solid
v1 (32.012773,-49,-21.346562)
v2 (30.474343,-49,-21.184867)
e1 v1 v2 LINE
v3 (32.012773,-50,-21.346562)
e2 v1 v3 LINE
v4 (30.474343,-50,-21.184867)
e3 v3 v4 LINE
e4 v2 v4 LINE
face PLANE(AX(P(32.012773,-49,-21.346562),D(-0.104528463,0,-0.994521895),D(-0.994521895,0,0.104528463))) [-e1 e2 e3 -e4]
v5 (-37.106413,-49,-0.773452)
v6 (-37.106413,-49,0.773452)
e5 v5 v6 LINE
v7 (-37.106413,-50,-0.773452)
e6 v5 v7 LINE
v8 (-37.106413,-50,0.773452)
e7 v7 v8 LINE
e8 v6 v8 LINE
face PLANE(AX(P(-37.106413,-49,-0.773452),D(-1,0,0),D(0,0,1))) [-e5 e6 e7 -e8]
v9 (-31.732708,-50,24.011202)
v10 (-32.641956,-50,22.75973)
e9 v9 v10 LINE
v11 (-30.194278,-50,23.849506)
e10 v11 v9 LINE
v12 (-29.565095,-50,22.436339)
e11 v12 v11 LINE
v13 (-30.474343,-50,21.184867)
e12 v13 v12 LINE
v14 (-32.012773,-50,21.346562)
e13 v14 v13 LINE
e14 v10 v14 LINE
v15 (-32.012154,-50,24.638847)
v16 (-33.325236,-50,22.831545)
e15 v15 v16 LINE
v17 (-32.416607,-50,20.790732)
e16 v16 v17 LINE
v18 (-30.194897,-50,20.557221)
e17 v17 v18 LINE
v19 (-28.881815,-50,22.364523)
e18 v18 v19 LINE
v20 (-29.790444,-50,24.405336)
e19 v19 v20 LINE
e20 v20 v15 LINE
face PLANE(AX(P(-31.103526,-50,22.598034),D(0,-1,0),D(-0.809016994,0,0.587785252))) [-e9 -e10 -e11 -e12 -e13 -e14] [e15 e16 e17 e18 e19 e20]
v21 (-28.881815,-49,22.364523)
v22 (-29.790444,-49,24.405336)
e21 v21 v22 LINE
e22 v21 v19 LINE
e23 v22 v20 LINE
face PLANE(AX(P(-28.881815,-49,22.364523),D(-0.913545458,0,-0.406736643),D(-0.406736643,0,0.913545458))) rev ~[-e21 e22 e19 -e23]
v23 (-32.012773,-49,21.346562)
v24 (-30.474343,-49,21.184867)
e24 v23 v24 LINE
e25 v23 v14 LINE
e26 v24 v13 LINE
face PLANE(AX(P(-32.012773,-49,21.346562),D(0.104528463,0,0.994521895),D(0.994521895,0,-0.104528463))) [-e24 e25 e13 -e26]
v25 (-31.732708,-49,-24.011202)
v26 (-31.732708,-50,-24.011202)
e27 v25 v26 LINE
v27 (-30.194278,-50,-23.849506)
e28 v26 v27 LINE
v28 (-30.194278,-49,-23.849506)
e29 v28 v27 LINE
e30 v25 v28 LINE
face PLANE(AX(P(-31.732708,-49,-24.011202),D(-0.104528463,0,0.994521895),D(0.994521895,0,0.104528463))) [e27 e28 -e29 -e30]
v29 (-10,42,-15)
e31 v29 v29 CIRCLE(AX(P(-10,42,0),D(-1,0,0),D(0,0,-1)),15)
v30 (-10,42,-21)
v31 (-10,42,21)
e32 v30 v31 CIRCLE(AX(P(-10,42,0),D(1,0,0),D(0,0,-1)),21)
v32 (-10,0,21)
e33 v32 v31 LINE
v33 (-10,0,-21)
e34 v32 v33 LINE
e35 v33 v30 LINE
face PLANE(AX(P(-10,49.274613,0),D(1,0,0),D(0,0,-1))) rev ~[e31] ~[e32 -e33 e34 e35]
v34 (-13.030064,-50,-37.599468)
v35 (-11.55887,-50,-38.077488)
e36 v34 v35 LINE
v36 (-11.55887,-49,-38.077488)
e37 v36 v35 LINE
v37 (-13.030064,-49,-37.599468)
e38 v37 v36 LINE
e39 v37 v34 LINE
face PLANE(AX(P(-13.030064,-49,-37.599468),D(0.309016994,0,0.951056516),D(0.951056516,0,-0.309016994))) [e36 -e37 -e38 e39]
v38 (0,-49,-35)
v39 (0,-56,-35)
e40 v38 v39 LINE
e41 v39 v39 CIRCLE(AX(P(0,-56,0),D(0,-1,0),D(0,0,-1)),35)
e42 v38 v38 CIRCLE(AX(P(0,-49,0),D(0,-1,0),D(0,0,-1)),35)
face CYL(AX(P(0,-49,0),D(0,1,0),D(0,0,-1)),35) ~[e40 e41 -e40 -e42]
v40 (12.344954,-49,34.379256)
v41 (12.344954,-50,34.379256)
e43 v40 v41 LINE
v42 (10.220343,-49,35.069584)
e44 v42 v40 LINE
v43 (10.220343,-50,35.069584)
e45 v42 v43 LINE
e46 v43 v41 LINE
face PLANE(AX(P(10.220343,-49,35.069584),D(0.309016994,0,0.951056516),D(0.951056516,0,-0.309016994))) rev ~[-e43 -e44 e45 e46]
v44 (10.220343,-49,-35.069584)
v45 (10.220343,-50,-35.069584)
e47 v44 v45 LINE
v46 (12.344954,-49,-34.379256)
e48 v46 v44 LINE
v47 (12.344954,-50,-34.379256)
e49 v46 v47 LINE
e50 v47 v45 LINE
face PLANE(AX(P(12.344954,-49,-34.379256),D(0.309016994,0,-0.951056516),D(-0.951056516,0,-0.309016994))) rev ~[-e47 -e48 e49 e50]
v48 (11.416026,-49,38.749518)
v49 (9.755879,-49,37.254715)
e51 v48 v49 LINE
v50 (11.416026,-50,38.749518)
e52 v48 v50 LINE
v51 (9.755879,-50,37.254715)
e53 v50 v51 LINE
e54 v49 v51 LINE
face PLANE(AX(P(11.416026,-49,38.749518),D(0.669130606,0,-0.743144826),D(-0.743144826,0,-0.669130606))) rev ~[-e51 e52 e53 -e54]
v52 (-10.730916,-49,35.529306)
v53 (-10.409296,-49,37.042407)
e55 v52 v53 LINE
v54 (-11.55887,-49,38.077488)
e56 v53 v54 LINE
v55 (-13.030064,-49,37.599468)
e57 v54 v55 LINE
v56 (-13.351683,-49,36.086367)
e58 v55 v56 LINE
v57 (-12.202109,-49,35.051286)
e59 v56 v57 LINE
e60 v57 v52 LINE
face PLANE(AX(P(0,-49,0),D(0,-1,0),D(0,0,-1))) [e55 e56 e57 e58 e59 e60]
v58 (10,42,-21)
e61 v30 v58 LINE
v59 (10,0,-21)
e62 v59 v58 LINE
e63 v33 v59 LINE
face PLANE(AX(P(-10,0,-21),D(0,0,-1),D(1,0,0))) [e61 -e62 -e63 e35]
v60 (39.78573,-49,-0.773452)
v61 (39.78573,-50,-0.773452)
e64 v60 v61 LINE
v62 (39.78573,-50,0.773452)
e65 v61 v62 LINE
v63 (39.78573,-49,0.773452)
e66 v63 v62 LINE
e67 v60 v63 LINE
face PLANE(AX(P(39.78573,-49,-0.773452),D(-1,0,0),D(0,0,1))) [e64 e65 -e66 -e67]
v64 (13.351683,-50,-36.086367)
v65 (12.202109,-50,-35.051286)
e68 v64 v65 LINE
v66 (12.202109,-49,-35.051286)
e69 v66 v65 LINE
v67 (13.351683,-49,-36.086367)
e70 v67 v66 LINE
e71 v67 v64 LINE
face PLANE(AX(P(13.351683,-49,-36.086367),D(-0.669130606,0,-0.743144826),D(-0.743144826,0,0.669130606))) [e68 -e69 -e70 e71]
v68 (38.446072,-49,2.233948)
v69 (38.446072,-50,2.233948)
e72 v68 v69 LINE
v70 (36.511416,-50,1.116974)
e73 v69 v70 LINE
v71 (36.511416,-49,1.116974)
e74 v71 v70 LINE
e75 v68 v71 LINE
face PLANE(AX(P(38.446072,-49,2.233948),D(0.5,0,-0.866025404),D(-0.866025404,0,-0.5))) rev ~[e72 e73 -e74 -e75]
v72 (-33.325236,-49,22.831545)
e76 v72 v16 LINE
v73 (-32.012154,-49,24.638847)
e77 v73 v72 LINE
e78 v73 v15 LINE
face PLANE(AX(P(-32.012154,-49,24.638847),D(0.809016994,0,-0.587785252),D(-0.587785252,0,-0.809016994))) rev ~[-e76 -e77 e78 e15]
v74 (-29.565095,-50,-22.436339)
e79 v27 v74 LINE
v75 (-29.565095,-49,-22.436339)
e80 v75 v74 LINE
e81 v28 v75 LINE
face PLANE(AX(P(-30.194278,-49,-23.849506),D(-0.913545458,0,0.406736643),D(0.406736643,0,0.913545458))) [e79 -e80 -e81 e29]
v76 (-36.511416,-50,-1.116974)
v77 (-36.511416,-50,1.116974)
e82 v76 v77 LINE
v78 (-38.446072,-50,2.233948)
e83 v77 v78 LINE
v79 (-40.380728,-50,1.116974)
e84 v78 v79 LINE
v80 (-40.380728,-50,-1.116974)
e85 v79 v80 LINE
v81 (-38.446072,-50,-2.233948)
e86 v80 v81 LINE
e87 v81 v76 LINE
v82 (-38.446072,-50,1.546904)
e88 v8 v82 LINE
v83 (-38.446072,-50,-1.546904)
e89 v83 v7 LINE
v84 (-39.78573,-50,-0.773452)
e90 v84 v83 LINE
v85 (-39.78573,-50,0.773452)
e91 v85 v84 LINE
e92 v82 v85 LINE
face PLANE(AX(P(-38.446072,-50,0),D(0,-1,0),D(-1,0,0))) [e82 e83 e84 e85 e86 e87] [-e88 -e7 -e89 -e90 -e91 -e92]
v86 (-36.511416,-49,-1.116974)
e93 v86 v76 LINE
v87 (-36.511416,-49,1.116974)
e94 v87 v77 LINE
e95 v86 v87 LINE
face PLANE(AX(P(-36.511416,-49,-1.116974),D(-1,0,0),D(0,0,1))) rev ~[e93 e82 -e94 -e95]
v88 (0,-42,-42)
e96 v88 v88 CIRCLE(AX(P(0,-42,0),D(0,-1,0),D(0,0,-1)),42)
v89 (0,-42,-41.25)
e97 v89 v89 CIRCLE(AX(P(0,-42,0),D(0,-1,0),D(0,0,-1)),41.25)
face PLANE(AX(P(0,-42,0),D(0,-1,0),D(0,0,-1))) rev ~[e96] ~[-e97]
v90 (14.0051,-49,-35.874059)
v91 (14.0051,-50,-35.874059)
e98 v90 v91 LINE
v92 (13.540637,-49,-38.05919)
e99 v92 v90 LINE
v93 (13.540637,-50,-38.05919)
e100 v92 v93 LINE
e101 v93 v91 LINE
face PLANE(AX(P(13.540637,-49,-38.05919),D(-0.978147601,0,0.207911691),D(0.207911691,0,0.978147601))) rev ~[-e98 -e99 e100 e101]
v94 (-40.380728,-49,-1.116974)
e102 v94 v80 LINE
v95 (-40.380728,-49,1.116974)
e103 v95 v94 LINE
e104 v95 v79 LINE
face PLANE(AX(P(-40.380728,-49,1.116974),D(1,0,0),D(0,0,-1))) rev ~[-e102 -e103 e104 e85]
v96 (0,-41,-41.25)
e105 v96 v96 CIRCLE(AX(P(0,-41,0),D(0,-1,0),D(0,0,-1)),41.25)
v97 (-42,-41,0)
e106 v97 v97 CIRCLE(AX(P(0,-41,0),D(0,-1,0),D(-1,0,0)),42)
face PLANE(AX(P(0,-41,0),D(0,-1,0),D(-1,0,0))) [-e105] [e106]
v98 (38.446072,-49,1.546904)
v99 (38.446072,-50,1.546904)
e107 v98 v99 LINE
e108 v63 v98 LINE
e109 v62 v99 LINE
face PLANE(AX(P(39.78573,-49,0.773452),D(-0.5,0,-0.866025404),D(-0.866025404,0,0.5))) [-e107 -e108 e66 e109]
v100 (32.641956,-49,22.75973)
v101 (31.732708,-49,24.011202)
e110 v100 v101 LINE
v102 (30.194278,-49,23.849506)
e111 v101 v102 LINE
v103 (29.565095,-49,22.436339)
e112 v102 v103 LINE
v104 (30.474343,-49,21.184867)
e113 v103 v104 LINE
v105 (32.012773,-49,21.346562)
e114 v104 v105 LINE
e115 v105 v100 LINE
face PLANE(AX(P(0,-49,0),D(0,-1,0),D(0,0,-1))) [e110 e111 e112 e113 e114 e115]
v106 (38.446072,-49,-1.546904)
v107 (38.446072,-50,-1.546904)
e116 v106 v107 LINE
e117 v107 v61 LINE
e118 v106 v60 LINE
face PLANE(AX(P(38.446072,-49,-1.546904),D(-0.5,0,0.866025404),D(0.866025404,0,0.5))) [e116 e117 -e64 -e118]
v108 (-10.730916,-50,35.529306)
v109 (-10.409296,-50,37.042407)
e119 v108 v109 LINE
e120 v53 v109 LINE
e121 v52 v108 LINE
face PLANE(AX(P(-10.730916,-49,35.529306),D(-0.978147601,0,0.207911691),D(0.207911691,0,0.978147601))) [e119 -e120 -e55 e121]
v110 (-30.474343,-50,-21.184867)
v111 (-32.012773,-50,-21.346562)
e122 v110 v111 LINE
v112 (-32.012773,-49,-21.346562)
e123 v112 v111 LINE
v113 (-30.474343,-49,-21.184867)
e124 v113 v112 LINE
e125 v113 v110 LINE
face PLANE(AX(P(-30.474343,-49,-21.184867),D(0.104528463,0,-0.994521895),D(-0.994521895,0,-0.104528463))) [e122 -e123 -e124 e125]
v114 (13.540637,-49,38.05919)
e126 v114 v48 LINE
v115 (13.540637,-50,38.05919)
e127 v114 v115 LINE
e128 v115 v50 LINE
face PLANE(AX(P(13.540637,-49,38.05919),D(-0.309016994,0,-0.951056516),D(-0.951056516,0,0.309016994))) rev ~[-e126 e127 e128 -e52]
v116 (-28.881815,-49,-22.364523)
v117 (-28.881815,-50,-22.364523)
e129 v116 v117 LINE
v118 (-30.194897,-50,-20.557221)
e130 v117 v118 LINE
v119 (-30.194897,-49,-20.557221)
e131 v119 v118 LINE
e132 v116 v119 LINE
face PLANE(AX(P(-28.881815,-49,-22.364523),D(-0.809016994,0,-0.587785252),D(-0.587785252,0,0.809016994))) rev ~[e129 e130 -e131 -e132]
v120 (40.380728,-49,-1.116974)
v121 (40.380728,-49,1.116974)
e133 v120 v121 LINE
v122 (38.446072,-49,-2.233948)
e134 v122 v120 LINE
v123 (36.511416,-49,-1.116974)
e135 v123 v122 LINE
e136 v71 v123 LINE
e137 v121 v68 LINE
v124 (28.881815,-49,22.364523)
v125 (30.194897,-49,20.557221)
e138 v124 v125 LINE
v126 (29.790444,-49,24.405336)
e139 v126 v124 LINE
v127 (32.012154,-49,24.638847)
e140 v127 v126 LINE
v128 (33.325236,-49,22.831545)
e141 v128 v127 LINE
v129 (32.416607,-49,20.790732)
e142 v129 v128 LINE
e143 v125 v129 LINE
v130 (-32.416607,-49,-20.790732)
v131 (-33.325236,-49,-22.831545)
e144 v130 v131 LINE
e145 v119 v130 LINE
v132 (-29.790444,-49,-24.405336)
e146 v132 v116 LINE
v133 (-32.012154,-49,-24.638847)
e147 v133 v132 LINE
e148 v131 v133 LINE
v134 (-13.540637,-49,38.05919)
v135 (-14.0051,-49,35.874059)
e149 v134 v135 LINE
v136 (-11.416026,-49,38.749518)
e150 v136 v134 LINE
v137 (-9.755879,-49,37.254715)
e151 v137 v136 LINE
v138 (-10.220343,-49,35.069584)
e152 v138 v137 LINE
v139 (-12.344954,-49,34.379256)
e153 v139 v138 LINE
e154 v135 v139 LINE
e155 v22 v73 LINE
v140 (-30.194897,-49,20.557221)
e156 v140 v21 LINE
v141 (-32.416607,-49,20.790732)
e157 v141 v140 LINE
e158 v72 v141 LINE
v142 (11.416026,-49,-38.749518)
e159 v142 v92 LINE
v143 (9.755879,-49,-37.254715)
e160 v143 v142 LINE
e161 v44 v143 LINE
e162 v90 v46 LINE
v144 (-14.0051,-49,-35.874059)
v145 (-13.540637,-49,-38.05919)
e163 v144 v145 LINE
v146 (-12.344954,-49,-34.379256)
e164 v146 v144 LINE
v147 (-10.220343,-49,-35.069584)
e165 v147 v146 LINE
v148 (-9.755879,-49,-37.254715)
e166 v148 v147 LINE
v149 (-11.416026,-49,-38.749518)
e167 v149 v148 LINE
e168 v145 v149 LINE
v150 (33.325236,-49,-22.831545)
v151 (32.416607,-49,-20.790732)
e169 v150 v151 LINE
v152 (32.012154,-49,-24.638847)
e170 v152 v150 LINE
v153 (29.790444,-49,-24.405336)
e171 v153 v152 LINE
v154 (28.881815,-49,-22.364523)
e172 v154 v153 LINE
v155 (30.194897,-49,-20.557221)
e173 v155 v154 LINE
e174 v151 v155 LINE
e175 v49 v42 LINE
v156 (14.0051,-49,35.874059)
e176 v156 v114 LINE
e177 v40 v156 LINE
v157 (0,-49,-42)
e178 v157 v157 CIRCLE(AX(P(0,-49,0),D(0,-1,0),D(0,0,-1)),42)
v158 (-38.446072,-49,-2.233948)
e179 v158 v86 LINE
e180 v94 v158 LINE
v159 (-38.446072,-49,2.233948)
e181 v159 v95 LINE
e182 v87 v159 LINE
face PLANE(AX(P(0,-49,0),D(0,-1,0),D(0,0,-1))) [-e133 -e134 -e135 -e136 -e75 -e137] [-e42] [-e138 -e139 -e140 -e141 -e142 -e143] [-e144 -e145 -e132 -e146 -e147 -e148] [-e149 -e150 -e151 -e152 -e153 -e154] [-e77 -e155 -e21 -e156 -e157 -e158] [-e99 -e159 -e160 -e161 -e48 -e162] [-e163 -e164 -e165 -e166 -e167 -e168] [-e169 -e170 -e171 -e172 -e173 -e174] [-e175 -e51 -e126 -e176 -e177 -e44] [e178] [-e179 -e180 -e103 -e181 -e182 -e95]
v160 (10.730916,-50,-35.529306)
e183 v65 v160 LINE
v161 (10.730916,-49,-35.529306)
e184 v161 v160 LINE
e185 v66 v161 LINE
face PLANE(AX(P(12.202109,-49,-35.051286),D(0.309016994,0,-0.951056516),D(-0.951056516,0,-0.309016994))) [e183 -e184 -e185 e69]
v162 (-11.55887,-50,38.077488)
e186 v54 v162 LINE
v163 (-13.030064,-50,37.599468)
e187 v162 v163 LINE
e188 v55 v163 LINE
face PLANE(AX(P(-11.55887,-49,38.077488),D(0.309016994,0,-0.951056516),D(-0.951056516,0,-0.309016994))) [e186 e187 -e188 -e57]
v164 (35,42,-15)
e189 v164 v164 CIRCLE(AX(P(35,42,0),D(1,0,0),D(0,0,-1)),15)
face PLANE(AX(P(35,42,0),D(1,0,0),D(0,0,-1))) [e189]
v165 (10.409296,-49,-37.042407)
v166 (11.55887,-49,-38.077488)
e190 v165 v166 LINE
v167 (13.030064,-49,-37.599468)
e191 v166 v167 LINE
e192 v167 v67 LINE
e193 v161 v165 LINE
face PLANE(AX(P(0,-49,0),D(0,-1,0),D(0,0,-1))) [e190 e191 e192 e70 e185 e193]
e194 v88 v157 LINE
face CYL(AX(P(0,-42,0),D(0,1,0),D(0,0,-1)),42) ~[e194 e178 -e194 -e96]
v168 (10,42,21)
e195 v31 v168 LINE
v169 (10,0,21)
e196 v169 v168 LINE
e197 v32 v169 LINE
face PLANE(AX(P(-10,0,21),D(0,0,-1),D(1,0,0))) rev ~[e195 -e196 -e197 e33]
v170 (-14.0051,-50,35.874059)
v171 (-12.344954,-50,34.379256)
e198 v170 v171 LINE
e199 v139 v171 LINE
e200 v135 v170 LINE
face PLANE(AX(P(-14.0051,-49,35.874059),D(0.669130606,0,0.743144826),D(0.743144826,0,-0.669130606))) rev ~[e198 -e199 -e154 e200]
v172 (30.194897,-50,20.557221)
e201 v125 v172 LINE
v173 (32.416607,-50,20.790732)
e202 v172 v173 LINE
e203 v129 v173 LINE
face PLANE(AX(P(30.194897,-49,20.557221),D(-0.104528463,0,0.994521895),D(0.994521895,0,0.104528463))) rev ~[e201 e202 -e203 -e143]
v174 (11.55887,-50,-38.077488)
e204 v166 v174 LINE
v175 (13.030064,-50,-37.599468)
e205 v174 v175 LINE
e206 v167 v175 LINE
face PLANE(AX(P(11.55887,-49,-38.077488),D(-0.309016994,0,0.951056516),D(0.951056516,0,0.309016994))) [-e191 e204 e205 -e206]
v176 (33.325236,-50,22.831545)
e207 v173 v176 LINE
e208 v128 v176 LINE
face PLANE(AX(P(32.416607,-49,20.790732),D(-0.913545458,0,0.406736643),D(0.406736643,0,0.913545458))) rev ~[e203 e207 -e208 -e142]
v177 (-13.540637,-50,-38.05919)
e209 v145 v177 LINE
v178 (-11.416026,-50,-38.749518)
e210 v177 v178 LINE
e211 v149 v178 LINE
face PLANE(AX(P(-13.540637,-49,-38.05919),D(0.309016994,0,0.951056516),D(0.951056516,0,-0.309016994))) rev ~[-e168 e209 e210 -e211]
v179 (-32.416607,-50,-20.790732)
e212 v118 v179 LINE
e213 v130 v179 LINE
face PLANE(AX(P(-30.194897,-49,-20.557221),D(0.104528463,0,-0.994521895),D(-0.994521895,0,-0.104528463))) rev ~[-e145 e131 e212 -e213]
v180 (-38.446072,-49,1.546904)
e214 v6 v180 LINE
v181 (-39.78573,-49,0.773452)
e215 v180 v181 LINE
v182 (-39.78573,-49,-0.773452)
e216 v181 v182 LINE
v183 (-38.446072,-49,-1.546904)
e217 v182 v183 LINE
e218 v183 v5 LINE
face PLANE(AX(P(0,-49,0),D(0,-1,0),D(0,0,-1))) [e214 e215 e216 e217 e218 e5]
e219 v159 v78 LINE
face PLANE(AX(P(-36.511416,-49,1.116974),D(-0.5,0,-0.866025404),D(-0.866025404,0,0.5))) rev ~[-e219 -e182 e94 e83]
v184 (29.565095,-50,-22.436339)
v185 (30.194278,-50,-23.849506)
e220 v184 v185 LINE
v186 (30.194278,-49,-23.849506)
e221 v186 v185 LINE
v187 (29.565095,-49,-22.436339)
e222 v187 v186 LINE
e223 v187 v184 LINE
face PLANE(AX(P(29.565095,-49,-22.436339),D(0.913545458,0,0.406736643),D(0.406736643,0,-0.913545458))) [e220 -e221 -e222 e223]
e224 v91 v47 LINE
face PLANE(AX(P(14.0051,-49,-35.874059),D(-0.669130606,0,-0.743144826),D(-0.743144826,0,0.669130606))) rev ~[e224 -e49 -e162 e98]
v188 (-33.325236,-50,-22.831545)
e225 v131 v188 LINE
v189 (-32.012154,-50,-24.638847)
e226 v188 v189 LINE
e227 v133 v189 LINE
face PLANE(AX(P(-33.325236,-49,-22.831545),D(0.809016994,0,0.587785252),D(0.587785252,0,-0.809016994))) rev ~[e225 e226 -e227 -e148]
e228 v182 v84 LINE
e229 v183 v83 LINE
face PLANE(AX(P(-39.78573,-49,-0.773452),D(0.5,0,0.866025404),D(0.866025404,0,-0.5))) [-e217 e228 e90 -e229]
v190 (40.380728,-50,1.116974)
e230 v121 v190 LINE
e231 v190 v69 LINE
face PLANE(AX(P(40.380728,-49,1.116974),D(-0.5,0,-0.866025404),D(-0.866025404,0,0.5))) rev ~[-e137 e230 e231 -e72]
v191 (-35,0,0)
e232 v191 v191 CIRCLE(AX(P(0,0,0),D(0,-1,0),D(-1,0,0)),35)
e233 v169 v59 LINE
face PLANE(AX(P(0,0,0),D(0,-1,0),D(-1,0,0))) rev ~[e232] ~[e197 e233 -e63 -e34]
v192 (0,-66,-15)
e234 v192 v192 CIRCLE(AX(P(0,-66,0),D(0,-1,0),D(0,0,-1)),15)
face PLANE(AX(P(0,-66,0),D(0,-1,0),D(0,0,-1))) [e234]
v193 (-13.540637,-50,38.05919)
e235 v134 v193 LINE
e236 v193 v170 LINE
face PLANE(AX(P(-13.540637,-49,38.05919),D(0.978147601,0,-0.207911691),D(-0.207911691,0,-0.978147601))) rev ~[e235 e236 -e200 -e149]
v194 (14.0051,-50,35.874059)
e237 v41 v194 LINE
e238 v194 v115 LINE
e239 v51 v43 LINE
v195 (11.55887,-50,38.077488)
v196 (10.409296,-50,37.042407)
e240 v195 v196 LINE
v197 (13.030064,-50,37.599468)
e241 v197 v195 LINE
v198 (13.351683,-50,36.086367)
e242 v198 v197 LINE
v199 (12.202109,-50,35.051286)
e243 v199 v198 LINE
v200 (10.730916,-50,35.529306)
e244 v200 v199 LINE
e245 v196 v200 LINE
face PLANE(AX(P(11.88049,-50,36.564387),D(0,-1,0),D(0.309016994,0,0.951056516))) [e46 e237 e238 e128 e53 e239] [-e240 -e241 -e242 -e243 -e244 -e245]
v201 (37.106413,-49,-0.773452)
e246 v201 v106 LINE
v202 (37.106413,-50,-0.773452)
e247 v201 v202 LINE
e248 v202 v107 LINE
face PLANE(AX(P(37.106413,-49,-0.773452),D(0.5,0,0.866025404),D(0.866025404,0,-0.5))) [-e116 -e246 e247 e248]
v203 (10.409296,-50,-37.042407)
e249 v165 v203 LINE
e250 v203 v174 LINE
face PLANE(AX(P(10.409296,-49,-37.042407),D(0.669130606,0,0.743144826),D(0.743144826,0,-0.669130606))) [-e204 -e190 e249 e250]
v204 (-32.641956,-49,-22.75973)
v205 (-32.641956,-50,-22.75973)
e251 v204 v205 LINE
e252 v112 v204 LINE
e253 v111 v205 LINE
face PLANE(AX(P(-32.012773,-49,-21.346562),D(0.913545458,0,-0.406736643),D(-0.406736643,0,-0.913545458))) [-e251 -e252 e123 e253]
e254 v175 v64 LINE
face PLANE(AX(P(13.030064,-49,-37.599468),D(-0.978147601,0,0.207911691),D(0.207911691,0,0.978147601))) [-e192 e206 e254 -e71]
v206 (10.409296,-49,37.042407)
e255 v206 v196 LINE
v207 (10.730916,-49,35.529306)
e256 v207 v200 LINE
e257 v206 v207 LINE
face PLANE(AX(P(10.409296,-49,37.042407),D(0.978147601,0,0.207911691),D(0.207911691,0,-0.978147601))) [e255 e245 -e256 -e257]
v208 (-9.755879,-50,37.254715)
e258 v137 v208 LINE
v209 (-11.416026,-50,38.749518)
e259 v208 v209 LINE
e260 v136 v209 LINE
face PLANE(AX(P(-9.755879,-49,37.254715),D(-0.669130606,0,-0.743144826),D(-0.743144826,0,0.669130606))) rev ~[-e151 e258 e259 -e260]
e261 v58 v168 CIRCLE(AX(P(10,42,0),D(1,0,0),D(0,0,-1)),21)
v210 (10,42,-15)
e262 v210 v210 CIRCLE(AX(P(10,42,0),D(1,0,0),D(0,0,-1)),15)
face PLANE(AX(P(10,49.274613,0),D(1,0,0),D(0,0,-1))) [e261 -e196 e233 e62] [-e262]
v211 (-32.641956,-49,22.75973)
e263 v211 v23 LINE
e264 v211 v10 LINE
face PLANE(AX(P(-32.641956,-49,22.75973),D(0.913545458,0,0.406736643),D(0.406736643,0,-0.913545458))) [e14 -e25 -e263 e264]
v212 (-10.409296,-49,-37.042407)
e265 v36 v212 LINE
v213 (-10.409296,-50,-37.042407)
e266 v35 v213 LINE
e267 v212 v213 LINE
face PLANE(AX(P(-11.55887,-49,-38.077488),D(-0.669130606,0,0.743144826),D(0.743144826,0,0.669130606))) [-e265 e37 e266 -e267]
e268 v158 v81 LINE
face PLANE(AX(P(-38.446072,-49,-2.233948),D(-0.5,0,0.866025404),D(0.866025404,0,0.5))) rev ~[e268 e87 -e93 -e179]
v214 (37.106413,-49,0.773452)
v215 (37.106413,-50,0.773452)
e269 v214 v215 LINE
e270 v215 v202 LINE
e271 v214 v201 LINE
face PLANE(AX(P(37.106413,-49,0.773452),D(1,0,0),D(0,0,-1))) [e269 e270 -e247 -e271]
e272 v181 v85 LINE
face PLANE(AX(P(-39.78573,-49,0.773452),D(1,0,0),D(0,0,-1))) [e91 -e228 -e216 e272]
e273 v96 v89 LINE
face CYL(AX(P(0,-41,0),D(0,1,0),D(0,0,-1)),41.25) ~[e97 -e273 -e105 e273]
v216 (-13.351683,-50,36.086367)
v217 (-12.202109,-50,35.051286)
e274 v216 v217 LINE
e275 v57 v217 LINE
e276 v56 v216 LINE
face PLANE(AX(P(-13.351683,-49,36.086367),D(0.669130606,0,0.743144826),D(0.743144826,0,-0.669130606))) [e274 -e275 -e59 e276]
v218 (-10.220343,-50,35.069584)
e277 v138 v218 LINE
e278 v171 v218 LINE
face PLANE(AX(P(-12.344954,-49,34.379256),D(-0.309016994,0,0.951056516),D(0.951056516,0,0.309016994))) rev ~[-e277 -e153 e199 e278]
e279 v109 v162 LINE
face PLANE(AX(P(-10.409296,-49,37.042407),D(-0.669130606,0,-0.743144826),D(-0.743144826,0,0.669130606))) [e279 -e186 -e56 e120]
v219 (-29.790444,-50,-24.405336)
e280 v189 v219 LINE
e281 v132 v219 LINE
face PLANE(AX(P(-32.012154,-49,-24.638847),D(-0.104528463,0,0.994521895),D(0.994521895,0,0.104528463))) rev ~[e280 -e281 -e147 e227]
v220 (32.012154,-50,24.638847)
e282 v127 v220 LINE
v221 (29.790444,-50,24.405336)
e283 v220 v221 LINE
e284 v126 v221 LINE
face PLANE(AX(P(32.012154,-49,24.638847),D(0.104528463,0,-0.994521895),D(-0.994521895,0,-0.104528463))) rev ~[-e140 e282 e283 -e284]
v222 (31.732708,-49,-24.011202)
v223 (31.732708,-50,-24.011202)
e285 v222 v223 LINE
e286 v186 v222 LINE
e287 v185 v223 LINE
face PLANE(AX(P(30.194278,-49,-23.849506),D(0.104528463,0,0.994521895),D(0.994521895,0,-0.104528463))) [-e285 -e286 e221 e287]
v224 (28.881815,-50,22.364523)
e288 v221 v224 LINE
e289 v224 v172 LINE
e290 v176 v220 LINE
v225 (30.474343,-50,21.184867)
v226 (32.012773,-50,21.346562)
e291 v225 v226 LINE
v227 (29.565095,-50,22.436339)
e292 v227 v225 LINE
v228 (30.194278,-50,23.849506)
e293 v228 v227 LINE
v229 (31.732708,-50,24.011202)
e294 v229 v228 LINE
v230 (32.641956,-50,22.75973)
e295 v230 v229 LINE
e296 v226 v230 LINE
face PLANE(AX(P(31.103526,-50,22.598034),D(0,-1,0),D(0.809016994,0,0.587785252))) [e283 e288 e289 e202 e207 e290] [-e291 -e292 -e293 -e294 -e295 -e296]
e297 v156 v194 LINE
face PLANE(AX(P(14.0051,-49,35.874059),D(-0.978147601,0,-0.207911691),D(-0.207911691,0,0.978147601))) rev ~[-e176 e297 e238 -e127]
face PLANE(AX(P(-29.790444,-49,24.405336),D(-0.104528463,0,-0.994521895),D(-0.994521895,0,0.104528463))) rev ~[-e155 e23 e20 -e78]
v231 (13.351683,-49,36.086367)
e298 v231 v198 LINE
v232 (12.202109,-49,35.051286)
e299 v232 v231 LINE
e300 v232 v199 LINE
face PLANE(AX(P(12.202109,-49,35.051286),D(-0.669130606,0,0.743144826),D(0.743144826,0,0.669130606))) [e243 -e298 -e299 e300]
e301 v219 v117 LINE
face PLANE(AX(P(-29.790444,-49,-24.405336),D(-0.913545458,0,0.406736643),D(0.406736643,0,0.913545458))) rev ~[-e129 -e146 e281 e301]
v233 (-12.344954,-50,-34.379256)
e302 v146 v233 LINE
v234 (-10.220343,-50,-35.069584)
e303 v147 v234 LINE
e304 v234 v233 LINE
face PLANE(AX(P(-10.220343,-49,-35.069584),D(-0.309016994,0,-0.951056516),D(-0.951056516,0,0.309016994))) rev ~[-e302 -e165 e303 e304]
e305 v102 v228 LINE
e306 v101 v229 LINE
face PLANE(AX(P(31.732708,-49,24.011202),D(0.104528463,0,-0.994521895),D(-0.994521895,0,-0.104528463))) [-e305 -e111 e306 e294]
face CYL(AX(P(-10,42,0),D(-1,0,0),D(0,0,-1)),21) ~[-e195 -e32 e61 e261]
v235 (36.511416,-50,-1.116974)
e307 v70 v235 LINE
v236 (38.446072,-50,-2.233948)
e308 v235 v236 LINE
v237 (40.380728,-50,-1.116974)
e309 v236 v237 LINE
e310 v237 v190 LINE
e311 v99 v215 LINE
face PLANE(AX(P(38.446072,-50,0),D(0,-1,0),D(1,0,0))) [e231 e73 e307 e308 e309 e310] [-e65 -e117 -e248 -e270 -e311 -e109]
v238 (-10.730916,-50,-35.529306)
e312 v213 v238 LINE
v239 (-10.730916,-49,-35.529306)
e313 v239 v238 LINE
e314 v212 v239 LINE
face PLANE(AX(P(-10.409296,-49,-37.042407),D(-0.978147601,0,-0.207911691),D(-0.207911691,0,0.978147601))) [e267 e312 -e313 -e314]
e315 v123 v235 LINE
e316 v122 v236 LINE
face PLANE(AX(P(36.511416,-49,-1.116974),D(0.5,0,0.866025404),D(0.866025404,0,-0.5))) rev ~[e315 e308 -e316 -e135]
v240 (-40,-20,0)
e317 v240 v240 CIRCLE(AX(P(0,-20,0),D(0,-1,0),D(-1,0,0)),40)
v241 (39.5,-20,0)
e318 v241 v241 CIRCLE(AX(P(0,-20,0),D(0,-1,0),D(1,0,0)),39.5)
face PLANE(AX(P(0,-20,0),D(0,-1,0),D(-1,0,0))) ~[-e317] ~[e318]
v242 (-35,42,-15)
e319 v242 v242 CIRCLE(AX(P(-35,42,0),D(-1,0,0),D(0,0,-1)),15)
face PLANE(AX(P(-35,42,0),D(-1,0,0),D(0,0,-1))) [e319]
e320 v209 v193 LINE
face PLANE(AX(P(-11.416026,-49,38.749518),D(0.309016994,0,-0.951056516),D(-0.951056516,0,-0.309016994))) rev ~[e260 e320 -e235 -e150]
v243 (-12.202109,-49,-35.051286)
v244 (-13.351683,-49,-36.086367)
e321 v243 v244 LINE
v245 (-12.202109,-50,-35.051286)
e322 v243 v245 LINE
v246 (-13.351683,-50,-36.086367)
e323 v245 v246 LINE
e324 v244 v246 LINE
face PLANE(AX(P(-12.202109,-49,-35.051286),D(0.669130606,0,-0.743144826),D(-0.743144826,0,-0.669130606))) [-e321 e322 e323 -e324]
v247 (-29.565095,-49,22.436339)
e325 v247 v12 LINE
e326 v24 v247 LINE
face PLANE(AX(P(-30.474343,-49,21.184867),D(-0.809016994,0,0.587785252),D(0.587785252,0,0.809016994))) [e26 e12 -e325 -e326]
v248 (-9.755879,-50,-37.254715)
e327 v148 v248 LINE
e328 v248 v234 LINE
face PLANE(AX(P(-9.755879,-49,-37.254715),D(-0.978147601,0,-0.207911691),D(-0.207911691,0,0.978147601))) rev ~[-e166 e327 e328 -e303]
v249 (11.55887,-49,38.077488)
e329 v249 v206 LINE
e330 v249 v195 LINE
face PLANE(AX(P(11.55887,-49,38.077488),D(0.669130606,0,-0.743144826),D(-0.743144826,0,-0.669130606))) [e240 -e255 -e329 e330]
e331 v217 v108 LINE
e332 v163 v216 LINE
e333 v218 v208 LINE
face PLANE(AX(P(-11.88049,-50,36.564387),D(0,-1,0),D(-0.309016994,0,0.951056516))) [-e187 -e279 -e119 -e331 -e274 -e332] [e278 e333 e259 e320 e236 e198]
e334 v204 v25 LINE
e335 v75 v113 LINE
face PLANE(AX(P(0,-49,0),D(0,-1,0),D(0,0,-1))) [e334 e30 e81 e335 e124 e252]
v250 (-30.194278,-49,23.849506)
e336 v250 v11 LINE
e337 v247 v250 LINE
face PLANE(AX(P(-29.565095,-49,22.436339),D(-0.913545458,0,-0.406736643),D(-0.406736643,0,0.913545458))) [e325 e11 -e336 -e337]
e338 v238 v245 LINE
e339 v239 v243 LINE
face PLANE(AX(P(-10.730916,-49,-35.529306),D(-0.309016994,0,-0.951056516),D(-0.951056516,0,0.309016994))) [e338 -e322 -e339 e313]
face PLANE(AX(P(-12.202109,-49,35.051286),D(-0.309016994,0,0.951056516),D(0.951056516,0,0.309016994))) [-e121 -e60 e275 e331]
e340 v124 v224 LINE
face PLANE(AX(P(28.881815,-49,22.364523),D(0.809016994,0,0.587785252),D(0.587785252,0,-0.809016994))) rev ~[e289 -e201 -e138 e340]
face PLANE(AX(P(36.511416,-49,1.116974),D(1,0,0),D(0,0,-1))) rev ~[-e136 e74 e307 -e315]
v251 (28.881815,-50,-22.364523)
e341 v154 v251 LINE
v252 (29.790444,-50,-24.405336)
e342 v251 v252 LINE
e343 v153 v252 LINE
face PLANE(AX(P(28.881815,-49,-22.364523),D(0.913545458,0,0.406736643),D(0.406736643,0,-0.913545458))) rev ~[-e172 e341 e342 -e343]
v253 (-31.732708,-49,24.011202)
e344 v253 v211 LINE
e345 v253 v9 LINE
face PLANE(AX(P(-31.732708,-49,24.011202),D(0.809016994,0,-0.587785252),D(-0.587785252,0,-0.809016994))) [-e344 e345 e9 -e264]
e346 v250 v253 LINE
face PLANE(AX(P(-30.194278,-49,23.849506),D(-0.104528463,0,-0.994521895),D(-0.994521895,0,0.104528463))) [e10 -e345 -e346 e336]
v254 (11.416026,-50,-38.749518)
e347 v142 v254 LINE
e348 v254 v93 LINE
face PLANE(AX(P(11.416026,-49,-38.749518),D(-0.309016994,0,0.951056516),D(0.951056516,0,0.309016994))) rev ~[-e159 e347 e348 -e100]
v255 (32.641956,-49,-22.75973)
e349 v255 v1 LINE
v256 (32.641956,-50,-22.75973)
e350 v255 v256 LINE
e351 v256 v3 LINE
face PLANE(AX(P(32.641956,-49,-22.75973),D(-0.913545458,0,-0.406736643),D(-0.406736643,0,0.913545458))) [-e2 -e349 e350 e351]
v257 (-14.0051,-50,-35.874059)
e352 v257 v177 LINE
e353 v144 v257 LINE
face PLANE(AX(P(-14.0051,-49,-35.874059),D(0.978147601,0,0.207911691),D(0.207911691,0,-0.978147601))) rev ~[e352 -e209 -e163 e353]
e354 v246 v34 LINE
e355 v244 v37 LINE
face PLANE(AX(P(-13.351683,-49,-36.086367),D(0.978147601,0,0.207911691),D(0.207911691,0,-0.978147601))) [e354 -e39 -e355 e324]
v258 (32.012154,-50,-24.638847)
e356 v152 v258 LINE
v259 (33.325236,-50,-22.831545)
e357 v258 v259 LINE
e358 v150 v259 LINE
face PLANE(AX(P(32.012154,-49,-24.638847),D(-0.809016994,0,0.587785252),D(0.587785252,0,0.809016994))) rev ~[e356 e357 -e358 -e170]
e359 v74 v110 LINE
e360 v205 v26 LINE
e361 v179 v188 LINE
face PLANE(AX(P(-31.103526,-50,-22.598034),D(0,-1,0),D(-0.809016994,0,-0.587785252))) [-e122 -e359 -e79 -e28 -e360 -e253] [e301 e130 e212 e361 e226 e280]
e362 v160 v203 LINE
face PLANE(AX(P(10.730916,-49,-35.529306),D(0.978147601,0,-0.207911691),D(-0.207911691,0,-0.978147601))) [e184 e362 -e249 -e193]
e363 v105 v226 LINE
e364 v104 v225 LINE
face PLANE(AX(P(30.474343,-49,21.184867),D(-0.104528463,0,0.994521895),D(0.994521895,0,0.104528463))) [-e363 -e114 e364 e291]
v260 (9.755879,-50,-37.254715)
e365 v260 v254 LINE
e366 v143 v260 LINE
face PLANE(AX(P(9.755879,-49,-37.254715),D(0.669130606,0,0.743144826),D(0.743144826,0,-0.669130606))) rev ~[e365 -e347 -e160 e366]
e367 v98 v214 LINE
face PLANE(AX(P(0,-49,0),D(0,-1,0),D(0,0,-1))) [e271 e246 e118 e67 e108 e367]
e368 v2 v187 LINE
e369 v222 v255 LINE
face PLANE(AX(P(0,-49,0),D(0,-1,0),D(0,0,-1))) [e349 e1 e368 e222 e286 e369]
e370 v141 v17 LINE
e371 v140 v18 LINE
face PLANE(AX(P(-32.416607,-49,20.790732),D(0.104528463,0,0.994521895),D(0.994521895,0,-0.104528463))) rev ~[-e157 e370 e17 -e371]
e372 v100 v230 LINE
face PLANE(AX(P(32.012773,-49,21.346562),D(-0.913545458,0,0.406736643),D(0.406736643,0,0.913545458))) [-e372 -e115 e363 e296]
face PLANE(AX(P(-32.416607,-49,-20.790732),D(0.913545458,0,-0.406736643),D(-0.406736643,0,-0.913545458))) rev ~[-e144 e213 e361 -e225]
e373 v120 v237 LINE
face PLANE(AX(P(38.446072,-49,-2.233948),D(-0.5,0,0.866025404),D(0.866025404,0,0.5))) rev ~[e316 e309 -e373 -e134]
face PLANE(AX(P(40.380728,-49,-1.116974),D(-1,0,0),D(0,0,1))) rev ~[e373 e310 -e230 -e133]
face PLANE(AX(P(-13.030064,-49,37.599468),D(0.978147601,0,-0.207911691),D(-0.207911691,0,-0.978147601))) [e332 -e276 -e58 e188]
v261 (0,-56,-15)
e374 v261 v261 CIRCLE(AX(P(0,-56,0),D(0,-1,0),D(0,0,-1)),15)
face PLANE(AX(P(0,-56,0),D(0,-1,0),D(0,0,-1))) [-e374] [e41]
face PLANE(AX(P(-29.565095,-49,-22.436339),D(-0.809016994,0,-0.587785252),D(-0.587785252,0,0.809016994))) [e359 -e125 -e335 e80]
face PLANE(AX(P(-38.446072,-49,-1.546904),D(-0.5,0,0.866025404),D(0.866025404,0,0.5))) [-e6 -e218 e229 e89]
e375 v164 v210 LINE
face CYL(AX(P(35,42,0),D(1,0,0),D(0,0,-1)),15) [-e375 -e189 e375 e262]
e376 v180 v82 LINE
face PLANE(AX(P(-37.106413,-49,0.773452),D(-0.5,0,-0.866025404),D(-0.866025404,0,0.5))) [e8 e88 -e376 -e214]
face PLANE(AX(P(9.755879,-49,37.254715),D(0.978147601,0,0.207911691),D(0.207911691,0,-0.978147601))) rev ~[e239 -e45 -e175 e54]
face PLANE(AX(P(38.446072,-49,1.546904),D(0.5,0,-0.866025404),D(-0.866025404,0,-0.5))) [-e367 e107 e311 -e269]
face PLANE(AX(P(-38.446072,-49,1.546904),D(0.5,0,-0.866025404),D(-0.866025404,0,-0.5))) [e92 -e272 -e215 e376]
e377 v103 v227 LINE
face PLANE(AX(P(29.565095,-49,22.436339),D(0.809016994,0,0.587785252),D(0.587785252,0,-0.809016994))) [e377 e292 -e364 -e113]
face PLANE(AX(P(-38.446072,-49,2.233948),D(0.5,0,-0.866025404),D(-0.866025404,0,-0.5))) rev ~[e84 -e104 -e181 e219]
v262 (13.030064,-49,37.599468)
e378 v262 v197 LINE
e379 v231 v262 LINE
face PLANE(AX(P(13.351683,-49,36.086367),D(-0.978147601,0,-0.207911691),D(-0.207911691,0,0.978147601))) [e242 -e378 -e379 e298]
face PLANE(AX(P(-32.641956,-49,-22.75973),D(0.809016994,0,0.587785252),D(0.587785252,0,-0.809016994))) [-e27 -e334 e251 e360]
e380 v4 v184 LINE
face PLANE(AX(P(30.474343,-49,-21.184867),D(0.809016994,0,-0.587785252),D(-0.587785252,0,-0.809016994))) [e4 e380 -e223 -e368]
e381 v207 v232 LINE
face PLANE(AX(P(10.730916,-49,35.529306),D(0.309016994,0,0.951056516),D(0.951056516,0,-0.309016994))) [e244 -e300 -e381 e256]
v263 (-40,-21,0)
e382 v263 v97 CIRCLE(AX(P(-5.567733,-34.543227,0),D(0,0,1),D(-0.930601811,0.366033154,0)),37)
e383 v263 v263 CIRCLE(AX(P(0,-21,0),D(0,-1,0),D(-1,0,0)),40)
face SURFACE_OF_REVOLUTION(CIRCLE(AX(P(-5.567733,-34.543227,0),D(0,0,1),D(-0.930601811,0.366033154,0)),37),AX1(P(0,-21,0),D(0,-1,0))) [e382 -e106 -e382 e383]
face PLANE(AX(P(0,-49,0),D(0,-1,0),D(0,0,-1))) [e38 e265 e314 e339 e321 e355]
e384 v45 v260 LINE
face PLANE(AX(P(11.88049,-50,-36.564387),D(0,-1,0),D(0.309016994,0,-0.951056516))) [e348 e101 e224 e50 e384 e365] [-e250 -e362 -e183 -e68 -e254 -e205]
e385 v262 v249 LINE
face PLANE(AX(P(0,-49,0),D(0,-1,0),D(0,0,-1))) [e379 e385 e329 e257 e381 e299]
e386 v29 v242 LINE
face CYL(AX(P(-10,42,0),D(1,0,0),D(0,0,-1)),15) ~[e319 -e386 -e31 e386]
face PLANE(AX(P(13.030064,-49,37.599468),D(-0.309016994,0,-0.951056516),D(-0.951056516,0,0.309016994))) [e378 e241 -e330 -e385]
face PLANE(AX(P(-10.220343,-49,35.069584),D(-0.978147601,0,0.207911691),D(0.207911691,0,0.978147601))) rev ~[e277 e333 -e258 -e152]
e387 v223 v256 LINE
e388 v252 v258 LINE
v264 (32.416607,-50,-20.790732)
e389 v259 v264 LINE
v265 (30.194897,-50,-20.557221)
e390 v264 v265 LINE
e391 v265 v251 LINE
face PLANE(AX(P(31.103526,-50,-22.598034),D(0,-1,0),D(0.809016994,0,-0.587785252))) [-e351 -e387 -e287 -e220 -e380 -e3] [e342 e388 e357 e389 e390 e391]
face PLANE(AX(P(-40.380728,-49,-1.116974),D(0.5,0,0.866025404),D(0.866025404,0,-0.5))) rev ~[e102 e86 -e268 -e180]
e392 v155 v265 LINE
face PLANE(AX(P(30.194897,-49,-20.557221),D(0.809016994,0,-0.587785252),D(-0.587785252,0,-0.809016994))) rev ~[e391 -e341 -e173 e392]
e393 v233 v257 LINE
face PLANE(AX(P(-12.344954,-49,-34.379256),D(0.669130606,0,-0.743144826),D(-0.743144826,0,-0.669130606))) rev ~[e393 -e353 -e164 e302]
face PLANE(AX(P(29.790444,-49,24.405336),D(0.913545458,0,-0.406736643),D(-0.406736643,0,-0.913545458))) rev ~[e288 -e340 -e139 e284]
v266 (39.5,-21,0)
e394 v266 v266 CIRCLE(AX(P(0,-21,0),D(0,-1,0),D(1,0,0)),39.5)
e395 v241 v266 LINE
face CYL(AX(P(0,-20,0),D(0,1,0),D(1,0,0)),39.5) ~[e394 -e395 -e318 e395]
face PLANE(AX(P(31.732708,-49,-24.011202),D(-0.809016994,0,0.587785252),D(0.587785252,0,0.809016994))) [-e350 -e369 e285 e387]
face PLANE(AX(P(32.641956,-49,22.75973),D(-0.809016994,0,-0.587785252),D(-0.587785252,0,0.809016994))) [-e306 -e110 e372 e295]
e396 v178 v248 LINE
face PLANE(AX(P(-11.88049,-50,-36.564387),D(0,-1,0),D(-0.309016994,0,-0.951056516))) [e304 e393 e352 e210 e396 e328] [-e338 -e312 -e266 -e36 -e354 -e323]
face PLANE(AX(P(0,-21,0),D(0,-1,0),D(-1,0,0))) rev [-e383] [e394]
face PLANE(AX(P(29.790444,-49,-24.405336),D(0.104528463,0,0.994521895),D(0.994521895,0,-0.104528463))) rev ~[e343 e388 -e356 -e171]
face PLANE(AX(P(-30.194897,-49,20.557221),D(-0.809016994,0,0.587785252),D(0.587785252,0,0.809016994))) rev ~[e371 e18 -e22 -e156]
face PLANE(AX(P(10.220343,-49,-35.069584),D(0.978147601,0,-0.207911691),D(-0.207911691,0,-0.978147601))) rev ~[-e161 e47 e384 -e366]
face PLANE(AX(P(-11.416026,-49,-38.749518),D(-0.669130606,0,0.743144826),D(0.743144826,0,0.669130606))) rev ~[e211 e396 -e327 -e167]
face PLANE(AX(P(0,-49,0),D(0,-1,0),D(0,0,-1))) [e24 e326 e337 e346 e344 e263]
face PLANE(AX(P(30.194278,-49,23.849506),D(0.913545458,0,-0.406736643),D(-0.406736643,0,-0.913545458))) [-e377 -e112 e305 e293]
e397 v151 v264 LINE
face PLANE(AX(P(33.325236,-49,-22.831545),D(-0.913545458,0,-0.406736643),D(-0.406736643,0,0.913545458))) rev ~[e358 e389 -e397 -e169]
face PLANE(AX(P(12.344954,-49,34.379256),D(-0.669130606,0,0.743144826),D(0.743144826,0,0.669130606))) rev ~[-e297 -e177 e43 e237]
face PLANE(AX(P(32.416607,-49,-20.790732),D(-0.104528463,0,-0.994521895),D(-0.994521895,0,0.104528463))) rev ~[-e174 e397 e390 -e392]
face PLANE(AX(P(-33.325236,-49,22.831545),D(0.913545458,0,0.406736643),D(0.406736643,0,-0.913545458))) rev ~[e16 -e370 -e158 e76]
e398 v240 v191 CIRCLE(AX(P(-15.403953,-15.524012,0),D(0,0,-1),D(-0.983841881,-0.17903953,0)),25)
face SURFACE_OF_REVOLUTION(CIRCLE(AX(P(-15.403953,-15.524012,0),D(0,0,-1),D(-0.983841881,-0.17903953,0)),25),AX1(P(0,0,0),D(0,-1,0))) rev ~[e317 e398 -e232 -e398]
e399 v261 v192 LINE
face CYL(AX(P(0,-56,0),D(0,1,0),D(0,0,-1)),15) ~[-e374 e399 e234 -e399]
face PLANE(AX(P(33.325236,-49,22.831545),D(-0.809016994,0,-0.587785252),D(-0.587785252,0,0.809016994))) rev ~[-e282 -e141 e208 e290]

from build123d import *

# Parameters (mm, degrees)
SKETCH2_R            = 39.5
BOSS_EXTRUDE1_DEPTH  = 1
SKETCH4_R            = 41.25
BOSS_EXTRUDE2_DEPTH  = 1
SKETCH5_R            = 42
BOSS_EXTRUDE3_DEPTH  = 7
SKETCH6_R            = 35
BOSS_EXTRUDE4_DEPTH  = 7
BOSS_EXTRUDE5_DEPTH  = 1
CIRPATTERN1_COUNT    = 10
SKETCH9_R            = 15
BOSS_EXTRUDE6_DEPTH  = 10
SKETCH10_W           = 20
SKETCH10_H           = 42
BOSS_EXTRUDE7_DEPTH  = 42
BOSS_EXTRUDE8_START  = -20
BOSS_EXTRUDE8_DEPTH  = 20
SKETCH12_R           = 15
BOSS_EXTRUDE9_DEPTH  = 25
BOSS_EXTRUDE10_START = 25
SKETCH13_R           = 15
BOSS_EXTRUDE10_DEPTH = 25


with BuildPart() as part:
    # Sketch1 → Revolve1 (revolve)
    with BuildSketch(Plane.XY):
        with BuildLine():
            Line((-35, 0), (0, 0))
            Line((0, 0), (0, -20))
            Line((0, -20), (-40, -20))
            ThreePointArc((-40, -20), (-39.657515479, -9.46062113), (-35, 0))
        make_face()
    revolve(axis=Axis((0, 0, 0), (0, -1, 0)))

    # Sketch2 → Boss-Extrude1 (add)
    with BuildSketch(Plane.XZ.offset(20)):
        Circle(SKETCH2_R)
    extrude(amount=BOSS_EXTRUDE1_DEPTH)

    # Sketch3 → Revolve2 (revolve)
    with BuildSketch(Plane(origin=(0, 0, 0), x_dir=(0, 0, -1), z_dir=(1, 0, 0)), mode=Mode.PRIVATE) as revolve2_sk:
        with BuildLine():
            Line((0, -21), (-40, -21))
            ThreePointArc((-40, -21), (-42.384109041, -30.861589096), (-42, -41))
            Line((-42, -41), (0, -41))
            Line((0, -41), (0, -21))
        make_face()
    revolve(revolve2_sk.sketch.rotate(Axis((0, -21, 0), (0, -1, 0)), 90), axis=Axis((0, -21, 0), (0, -1, 0)))

    # Sketch4 → Boss-Extrude2 (add)
    with BuildSketch(Plane.XZ.offset(41)):
        with Locations(Location((0, 0, 0), (0, 0, 270))):
            Circle(SKETCH4_R)
    extrude(amount=BOSS_EXTRUDE2_DEPTH)

    # Sketch5 → Boss-Extrude3 (add)
    with BuildSketch(Plane.XZ.offset(42)):
        with Locations(Location((0, 0, 0), (0, 0, 270))):
            Circle(SKETCH5_R)
    extrude(amount=BOSS_EXTRUDE3_DEPTH)

    # Sketch6 → Boss-Extrude4 (add)
    with BuildSketch(Plane.XZ.offset(49)):
        with Locations(Location((0, 0, 0), (0, 0, 270))):
            Circle(SKETCH6_R)
    extrude(amount=BOSS_EXTRUDE4_DEPTH)

    # Sketch7 → Boss-Extrude5 (add)
    with BuildSketch(Plane.XZ.offset(49)):
        Polygon((38.446071931, -2.233948034), (40.380727679, -1.116974017), (40.380727679, 1.116974017), (38.446071931, 2.233948034), (36.511416183, 1.116974017), (36.511416183, -1.116974017), align=None)
        Polygon((38.446071931, -1.546904417), (39.785730453, -0.773452208), (39.785730453, 0.773452208), (38.446071931, 1.546904417), (37.106413409, 0.773452208), (37.106413409, -0.773452208), align=None, mode=Mode.SUBTRACT)
    boss_extrude5 = extrude(amount=BOSS_EXTRUDE5_DEPTH)

    # CirPattern1: Boss-Extrude5 ×10 about axis
    cirpattern1_axis = Axis((0, 0, 0), (0, 1, 0))
    for i in range(1, CIRPATTERN1_COUNT):
        add(boss_extrude5.rotate(cirpattern1_axis, i * 360 / CIRPATTERN1_COUNT))

    # Sketch9 → Boss-Extrude6 (add)
    with BuildSketch(Plane.XZ.offset(56)):
        with Locations(Location((0, 0, 0), (0, 0, 270))):
            Circle(SKETCH9_R)
    extrude(amount=BOSS_EXTRUDE6_DEPTH)

    # Sketch10 → Boss-Extrude7 (add)
    with BuildSketch(Plane(origin=(0, 0, 0), x_dir=(1, 0, 0), z_dir=(0, 1, 0))):
        Rectangle(SKETCH10_W, SKETCH10_H)
    extrude(amount=BOSS_EXTRUDE7_DEPTH)

    # Sketch11 → Boss-Extrude8 (add)
    with BuildSketch(Plane(origin=(10, 0, 0), x_dir=(0, 0, -1), z_dir=(1, 0, 0)).offset(BOSS_EXTRUDE8_START)):
        with BuildLine():
            Line((-21, 42), (21, 42))
            ThreePointArc((21, 42), (0, 63), (-21, 42))
        make_face()
    extrude(amount=BOSS_EXTRUDE8_DEPTH)

    # Sketch12 → Boss-Extrude9 (add)
    with BuildSketch(Plane.ZY.offset(10)):
        with Locations(Location((0, 42, 0), (0, 0, 180))):
            Circle(SKETCH12_R)
    extrude(amount=BOSS_EXTRUDE9_DEPTH)

    # Sketch13 → Boss-Extrude10 (add)
    with BuildSketch(Plane(origin=(10, 0, 0), x_dir=(0, 0, -1), z_dir=(1, 0, 0)).offset(BOSS_EXTRUDE10_START)):
        with Locations((0, 42)):
            Circle(SKETCH13_R)
    extrude(amount=-BOSS_EXTRUDE10_DEPTH)


solid = part.part
